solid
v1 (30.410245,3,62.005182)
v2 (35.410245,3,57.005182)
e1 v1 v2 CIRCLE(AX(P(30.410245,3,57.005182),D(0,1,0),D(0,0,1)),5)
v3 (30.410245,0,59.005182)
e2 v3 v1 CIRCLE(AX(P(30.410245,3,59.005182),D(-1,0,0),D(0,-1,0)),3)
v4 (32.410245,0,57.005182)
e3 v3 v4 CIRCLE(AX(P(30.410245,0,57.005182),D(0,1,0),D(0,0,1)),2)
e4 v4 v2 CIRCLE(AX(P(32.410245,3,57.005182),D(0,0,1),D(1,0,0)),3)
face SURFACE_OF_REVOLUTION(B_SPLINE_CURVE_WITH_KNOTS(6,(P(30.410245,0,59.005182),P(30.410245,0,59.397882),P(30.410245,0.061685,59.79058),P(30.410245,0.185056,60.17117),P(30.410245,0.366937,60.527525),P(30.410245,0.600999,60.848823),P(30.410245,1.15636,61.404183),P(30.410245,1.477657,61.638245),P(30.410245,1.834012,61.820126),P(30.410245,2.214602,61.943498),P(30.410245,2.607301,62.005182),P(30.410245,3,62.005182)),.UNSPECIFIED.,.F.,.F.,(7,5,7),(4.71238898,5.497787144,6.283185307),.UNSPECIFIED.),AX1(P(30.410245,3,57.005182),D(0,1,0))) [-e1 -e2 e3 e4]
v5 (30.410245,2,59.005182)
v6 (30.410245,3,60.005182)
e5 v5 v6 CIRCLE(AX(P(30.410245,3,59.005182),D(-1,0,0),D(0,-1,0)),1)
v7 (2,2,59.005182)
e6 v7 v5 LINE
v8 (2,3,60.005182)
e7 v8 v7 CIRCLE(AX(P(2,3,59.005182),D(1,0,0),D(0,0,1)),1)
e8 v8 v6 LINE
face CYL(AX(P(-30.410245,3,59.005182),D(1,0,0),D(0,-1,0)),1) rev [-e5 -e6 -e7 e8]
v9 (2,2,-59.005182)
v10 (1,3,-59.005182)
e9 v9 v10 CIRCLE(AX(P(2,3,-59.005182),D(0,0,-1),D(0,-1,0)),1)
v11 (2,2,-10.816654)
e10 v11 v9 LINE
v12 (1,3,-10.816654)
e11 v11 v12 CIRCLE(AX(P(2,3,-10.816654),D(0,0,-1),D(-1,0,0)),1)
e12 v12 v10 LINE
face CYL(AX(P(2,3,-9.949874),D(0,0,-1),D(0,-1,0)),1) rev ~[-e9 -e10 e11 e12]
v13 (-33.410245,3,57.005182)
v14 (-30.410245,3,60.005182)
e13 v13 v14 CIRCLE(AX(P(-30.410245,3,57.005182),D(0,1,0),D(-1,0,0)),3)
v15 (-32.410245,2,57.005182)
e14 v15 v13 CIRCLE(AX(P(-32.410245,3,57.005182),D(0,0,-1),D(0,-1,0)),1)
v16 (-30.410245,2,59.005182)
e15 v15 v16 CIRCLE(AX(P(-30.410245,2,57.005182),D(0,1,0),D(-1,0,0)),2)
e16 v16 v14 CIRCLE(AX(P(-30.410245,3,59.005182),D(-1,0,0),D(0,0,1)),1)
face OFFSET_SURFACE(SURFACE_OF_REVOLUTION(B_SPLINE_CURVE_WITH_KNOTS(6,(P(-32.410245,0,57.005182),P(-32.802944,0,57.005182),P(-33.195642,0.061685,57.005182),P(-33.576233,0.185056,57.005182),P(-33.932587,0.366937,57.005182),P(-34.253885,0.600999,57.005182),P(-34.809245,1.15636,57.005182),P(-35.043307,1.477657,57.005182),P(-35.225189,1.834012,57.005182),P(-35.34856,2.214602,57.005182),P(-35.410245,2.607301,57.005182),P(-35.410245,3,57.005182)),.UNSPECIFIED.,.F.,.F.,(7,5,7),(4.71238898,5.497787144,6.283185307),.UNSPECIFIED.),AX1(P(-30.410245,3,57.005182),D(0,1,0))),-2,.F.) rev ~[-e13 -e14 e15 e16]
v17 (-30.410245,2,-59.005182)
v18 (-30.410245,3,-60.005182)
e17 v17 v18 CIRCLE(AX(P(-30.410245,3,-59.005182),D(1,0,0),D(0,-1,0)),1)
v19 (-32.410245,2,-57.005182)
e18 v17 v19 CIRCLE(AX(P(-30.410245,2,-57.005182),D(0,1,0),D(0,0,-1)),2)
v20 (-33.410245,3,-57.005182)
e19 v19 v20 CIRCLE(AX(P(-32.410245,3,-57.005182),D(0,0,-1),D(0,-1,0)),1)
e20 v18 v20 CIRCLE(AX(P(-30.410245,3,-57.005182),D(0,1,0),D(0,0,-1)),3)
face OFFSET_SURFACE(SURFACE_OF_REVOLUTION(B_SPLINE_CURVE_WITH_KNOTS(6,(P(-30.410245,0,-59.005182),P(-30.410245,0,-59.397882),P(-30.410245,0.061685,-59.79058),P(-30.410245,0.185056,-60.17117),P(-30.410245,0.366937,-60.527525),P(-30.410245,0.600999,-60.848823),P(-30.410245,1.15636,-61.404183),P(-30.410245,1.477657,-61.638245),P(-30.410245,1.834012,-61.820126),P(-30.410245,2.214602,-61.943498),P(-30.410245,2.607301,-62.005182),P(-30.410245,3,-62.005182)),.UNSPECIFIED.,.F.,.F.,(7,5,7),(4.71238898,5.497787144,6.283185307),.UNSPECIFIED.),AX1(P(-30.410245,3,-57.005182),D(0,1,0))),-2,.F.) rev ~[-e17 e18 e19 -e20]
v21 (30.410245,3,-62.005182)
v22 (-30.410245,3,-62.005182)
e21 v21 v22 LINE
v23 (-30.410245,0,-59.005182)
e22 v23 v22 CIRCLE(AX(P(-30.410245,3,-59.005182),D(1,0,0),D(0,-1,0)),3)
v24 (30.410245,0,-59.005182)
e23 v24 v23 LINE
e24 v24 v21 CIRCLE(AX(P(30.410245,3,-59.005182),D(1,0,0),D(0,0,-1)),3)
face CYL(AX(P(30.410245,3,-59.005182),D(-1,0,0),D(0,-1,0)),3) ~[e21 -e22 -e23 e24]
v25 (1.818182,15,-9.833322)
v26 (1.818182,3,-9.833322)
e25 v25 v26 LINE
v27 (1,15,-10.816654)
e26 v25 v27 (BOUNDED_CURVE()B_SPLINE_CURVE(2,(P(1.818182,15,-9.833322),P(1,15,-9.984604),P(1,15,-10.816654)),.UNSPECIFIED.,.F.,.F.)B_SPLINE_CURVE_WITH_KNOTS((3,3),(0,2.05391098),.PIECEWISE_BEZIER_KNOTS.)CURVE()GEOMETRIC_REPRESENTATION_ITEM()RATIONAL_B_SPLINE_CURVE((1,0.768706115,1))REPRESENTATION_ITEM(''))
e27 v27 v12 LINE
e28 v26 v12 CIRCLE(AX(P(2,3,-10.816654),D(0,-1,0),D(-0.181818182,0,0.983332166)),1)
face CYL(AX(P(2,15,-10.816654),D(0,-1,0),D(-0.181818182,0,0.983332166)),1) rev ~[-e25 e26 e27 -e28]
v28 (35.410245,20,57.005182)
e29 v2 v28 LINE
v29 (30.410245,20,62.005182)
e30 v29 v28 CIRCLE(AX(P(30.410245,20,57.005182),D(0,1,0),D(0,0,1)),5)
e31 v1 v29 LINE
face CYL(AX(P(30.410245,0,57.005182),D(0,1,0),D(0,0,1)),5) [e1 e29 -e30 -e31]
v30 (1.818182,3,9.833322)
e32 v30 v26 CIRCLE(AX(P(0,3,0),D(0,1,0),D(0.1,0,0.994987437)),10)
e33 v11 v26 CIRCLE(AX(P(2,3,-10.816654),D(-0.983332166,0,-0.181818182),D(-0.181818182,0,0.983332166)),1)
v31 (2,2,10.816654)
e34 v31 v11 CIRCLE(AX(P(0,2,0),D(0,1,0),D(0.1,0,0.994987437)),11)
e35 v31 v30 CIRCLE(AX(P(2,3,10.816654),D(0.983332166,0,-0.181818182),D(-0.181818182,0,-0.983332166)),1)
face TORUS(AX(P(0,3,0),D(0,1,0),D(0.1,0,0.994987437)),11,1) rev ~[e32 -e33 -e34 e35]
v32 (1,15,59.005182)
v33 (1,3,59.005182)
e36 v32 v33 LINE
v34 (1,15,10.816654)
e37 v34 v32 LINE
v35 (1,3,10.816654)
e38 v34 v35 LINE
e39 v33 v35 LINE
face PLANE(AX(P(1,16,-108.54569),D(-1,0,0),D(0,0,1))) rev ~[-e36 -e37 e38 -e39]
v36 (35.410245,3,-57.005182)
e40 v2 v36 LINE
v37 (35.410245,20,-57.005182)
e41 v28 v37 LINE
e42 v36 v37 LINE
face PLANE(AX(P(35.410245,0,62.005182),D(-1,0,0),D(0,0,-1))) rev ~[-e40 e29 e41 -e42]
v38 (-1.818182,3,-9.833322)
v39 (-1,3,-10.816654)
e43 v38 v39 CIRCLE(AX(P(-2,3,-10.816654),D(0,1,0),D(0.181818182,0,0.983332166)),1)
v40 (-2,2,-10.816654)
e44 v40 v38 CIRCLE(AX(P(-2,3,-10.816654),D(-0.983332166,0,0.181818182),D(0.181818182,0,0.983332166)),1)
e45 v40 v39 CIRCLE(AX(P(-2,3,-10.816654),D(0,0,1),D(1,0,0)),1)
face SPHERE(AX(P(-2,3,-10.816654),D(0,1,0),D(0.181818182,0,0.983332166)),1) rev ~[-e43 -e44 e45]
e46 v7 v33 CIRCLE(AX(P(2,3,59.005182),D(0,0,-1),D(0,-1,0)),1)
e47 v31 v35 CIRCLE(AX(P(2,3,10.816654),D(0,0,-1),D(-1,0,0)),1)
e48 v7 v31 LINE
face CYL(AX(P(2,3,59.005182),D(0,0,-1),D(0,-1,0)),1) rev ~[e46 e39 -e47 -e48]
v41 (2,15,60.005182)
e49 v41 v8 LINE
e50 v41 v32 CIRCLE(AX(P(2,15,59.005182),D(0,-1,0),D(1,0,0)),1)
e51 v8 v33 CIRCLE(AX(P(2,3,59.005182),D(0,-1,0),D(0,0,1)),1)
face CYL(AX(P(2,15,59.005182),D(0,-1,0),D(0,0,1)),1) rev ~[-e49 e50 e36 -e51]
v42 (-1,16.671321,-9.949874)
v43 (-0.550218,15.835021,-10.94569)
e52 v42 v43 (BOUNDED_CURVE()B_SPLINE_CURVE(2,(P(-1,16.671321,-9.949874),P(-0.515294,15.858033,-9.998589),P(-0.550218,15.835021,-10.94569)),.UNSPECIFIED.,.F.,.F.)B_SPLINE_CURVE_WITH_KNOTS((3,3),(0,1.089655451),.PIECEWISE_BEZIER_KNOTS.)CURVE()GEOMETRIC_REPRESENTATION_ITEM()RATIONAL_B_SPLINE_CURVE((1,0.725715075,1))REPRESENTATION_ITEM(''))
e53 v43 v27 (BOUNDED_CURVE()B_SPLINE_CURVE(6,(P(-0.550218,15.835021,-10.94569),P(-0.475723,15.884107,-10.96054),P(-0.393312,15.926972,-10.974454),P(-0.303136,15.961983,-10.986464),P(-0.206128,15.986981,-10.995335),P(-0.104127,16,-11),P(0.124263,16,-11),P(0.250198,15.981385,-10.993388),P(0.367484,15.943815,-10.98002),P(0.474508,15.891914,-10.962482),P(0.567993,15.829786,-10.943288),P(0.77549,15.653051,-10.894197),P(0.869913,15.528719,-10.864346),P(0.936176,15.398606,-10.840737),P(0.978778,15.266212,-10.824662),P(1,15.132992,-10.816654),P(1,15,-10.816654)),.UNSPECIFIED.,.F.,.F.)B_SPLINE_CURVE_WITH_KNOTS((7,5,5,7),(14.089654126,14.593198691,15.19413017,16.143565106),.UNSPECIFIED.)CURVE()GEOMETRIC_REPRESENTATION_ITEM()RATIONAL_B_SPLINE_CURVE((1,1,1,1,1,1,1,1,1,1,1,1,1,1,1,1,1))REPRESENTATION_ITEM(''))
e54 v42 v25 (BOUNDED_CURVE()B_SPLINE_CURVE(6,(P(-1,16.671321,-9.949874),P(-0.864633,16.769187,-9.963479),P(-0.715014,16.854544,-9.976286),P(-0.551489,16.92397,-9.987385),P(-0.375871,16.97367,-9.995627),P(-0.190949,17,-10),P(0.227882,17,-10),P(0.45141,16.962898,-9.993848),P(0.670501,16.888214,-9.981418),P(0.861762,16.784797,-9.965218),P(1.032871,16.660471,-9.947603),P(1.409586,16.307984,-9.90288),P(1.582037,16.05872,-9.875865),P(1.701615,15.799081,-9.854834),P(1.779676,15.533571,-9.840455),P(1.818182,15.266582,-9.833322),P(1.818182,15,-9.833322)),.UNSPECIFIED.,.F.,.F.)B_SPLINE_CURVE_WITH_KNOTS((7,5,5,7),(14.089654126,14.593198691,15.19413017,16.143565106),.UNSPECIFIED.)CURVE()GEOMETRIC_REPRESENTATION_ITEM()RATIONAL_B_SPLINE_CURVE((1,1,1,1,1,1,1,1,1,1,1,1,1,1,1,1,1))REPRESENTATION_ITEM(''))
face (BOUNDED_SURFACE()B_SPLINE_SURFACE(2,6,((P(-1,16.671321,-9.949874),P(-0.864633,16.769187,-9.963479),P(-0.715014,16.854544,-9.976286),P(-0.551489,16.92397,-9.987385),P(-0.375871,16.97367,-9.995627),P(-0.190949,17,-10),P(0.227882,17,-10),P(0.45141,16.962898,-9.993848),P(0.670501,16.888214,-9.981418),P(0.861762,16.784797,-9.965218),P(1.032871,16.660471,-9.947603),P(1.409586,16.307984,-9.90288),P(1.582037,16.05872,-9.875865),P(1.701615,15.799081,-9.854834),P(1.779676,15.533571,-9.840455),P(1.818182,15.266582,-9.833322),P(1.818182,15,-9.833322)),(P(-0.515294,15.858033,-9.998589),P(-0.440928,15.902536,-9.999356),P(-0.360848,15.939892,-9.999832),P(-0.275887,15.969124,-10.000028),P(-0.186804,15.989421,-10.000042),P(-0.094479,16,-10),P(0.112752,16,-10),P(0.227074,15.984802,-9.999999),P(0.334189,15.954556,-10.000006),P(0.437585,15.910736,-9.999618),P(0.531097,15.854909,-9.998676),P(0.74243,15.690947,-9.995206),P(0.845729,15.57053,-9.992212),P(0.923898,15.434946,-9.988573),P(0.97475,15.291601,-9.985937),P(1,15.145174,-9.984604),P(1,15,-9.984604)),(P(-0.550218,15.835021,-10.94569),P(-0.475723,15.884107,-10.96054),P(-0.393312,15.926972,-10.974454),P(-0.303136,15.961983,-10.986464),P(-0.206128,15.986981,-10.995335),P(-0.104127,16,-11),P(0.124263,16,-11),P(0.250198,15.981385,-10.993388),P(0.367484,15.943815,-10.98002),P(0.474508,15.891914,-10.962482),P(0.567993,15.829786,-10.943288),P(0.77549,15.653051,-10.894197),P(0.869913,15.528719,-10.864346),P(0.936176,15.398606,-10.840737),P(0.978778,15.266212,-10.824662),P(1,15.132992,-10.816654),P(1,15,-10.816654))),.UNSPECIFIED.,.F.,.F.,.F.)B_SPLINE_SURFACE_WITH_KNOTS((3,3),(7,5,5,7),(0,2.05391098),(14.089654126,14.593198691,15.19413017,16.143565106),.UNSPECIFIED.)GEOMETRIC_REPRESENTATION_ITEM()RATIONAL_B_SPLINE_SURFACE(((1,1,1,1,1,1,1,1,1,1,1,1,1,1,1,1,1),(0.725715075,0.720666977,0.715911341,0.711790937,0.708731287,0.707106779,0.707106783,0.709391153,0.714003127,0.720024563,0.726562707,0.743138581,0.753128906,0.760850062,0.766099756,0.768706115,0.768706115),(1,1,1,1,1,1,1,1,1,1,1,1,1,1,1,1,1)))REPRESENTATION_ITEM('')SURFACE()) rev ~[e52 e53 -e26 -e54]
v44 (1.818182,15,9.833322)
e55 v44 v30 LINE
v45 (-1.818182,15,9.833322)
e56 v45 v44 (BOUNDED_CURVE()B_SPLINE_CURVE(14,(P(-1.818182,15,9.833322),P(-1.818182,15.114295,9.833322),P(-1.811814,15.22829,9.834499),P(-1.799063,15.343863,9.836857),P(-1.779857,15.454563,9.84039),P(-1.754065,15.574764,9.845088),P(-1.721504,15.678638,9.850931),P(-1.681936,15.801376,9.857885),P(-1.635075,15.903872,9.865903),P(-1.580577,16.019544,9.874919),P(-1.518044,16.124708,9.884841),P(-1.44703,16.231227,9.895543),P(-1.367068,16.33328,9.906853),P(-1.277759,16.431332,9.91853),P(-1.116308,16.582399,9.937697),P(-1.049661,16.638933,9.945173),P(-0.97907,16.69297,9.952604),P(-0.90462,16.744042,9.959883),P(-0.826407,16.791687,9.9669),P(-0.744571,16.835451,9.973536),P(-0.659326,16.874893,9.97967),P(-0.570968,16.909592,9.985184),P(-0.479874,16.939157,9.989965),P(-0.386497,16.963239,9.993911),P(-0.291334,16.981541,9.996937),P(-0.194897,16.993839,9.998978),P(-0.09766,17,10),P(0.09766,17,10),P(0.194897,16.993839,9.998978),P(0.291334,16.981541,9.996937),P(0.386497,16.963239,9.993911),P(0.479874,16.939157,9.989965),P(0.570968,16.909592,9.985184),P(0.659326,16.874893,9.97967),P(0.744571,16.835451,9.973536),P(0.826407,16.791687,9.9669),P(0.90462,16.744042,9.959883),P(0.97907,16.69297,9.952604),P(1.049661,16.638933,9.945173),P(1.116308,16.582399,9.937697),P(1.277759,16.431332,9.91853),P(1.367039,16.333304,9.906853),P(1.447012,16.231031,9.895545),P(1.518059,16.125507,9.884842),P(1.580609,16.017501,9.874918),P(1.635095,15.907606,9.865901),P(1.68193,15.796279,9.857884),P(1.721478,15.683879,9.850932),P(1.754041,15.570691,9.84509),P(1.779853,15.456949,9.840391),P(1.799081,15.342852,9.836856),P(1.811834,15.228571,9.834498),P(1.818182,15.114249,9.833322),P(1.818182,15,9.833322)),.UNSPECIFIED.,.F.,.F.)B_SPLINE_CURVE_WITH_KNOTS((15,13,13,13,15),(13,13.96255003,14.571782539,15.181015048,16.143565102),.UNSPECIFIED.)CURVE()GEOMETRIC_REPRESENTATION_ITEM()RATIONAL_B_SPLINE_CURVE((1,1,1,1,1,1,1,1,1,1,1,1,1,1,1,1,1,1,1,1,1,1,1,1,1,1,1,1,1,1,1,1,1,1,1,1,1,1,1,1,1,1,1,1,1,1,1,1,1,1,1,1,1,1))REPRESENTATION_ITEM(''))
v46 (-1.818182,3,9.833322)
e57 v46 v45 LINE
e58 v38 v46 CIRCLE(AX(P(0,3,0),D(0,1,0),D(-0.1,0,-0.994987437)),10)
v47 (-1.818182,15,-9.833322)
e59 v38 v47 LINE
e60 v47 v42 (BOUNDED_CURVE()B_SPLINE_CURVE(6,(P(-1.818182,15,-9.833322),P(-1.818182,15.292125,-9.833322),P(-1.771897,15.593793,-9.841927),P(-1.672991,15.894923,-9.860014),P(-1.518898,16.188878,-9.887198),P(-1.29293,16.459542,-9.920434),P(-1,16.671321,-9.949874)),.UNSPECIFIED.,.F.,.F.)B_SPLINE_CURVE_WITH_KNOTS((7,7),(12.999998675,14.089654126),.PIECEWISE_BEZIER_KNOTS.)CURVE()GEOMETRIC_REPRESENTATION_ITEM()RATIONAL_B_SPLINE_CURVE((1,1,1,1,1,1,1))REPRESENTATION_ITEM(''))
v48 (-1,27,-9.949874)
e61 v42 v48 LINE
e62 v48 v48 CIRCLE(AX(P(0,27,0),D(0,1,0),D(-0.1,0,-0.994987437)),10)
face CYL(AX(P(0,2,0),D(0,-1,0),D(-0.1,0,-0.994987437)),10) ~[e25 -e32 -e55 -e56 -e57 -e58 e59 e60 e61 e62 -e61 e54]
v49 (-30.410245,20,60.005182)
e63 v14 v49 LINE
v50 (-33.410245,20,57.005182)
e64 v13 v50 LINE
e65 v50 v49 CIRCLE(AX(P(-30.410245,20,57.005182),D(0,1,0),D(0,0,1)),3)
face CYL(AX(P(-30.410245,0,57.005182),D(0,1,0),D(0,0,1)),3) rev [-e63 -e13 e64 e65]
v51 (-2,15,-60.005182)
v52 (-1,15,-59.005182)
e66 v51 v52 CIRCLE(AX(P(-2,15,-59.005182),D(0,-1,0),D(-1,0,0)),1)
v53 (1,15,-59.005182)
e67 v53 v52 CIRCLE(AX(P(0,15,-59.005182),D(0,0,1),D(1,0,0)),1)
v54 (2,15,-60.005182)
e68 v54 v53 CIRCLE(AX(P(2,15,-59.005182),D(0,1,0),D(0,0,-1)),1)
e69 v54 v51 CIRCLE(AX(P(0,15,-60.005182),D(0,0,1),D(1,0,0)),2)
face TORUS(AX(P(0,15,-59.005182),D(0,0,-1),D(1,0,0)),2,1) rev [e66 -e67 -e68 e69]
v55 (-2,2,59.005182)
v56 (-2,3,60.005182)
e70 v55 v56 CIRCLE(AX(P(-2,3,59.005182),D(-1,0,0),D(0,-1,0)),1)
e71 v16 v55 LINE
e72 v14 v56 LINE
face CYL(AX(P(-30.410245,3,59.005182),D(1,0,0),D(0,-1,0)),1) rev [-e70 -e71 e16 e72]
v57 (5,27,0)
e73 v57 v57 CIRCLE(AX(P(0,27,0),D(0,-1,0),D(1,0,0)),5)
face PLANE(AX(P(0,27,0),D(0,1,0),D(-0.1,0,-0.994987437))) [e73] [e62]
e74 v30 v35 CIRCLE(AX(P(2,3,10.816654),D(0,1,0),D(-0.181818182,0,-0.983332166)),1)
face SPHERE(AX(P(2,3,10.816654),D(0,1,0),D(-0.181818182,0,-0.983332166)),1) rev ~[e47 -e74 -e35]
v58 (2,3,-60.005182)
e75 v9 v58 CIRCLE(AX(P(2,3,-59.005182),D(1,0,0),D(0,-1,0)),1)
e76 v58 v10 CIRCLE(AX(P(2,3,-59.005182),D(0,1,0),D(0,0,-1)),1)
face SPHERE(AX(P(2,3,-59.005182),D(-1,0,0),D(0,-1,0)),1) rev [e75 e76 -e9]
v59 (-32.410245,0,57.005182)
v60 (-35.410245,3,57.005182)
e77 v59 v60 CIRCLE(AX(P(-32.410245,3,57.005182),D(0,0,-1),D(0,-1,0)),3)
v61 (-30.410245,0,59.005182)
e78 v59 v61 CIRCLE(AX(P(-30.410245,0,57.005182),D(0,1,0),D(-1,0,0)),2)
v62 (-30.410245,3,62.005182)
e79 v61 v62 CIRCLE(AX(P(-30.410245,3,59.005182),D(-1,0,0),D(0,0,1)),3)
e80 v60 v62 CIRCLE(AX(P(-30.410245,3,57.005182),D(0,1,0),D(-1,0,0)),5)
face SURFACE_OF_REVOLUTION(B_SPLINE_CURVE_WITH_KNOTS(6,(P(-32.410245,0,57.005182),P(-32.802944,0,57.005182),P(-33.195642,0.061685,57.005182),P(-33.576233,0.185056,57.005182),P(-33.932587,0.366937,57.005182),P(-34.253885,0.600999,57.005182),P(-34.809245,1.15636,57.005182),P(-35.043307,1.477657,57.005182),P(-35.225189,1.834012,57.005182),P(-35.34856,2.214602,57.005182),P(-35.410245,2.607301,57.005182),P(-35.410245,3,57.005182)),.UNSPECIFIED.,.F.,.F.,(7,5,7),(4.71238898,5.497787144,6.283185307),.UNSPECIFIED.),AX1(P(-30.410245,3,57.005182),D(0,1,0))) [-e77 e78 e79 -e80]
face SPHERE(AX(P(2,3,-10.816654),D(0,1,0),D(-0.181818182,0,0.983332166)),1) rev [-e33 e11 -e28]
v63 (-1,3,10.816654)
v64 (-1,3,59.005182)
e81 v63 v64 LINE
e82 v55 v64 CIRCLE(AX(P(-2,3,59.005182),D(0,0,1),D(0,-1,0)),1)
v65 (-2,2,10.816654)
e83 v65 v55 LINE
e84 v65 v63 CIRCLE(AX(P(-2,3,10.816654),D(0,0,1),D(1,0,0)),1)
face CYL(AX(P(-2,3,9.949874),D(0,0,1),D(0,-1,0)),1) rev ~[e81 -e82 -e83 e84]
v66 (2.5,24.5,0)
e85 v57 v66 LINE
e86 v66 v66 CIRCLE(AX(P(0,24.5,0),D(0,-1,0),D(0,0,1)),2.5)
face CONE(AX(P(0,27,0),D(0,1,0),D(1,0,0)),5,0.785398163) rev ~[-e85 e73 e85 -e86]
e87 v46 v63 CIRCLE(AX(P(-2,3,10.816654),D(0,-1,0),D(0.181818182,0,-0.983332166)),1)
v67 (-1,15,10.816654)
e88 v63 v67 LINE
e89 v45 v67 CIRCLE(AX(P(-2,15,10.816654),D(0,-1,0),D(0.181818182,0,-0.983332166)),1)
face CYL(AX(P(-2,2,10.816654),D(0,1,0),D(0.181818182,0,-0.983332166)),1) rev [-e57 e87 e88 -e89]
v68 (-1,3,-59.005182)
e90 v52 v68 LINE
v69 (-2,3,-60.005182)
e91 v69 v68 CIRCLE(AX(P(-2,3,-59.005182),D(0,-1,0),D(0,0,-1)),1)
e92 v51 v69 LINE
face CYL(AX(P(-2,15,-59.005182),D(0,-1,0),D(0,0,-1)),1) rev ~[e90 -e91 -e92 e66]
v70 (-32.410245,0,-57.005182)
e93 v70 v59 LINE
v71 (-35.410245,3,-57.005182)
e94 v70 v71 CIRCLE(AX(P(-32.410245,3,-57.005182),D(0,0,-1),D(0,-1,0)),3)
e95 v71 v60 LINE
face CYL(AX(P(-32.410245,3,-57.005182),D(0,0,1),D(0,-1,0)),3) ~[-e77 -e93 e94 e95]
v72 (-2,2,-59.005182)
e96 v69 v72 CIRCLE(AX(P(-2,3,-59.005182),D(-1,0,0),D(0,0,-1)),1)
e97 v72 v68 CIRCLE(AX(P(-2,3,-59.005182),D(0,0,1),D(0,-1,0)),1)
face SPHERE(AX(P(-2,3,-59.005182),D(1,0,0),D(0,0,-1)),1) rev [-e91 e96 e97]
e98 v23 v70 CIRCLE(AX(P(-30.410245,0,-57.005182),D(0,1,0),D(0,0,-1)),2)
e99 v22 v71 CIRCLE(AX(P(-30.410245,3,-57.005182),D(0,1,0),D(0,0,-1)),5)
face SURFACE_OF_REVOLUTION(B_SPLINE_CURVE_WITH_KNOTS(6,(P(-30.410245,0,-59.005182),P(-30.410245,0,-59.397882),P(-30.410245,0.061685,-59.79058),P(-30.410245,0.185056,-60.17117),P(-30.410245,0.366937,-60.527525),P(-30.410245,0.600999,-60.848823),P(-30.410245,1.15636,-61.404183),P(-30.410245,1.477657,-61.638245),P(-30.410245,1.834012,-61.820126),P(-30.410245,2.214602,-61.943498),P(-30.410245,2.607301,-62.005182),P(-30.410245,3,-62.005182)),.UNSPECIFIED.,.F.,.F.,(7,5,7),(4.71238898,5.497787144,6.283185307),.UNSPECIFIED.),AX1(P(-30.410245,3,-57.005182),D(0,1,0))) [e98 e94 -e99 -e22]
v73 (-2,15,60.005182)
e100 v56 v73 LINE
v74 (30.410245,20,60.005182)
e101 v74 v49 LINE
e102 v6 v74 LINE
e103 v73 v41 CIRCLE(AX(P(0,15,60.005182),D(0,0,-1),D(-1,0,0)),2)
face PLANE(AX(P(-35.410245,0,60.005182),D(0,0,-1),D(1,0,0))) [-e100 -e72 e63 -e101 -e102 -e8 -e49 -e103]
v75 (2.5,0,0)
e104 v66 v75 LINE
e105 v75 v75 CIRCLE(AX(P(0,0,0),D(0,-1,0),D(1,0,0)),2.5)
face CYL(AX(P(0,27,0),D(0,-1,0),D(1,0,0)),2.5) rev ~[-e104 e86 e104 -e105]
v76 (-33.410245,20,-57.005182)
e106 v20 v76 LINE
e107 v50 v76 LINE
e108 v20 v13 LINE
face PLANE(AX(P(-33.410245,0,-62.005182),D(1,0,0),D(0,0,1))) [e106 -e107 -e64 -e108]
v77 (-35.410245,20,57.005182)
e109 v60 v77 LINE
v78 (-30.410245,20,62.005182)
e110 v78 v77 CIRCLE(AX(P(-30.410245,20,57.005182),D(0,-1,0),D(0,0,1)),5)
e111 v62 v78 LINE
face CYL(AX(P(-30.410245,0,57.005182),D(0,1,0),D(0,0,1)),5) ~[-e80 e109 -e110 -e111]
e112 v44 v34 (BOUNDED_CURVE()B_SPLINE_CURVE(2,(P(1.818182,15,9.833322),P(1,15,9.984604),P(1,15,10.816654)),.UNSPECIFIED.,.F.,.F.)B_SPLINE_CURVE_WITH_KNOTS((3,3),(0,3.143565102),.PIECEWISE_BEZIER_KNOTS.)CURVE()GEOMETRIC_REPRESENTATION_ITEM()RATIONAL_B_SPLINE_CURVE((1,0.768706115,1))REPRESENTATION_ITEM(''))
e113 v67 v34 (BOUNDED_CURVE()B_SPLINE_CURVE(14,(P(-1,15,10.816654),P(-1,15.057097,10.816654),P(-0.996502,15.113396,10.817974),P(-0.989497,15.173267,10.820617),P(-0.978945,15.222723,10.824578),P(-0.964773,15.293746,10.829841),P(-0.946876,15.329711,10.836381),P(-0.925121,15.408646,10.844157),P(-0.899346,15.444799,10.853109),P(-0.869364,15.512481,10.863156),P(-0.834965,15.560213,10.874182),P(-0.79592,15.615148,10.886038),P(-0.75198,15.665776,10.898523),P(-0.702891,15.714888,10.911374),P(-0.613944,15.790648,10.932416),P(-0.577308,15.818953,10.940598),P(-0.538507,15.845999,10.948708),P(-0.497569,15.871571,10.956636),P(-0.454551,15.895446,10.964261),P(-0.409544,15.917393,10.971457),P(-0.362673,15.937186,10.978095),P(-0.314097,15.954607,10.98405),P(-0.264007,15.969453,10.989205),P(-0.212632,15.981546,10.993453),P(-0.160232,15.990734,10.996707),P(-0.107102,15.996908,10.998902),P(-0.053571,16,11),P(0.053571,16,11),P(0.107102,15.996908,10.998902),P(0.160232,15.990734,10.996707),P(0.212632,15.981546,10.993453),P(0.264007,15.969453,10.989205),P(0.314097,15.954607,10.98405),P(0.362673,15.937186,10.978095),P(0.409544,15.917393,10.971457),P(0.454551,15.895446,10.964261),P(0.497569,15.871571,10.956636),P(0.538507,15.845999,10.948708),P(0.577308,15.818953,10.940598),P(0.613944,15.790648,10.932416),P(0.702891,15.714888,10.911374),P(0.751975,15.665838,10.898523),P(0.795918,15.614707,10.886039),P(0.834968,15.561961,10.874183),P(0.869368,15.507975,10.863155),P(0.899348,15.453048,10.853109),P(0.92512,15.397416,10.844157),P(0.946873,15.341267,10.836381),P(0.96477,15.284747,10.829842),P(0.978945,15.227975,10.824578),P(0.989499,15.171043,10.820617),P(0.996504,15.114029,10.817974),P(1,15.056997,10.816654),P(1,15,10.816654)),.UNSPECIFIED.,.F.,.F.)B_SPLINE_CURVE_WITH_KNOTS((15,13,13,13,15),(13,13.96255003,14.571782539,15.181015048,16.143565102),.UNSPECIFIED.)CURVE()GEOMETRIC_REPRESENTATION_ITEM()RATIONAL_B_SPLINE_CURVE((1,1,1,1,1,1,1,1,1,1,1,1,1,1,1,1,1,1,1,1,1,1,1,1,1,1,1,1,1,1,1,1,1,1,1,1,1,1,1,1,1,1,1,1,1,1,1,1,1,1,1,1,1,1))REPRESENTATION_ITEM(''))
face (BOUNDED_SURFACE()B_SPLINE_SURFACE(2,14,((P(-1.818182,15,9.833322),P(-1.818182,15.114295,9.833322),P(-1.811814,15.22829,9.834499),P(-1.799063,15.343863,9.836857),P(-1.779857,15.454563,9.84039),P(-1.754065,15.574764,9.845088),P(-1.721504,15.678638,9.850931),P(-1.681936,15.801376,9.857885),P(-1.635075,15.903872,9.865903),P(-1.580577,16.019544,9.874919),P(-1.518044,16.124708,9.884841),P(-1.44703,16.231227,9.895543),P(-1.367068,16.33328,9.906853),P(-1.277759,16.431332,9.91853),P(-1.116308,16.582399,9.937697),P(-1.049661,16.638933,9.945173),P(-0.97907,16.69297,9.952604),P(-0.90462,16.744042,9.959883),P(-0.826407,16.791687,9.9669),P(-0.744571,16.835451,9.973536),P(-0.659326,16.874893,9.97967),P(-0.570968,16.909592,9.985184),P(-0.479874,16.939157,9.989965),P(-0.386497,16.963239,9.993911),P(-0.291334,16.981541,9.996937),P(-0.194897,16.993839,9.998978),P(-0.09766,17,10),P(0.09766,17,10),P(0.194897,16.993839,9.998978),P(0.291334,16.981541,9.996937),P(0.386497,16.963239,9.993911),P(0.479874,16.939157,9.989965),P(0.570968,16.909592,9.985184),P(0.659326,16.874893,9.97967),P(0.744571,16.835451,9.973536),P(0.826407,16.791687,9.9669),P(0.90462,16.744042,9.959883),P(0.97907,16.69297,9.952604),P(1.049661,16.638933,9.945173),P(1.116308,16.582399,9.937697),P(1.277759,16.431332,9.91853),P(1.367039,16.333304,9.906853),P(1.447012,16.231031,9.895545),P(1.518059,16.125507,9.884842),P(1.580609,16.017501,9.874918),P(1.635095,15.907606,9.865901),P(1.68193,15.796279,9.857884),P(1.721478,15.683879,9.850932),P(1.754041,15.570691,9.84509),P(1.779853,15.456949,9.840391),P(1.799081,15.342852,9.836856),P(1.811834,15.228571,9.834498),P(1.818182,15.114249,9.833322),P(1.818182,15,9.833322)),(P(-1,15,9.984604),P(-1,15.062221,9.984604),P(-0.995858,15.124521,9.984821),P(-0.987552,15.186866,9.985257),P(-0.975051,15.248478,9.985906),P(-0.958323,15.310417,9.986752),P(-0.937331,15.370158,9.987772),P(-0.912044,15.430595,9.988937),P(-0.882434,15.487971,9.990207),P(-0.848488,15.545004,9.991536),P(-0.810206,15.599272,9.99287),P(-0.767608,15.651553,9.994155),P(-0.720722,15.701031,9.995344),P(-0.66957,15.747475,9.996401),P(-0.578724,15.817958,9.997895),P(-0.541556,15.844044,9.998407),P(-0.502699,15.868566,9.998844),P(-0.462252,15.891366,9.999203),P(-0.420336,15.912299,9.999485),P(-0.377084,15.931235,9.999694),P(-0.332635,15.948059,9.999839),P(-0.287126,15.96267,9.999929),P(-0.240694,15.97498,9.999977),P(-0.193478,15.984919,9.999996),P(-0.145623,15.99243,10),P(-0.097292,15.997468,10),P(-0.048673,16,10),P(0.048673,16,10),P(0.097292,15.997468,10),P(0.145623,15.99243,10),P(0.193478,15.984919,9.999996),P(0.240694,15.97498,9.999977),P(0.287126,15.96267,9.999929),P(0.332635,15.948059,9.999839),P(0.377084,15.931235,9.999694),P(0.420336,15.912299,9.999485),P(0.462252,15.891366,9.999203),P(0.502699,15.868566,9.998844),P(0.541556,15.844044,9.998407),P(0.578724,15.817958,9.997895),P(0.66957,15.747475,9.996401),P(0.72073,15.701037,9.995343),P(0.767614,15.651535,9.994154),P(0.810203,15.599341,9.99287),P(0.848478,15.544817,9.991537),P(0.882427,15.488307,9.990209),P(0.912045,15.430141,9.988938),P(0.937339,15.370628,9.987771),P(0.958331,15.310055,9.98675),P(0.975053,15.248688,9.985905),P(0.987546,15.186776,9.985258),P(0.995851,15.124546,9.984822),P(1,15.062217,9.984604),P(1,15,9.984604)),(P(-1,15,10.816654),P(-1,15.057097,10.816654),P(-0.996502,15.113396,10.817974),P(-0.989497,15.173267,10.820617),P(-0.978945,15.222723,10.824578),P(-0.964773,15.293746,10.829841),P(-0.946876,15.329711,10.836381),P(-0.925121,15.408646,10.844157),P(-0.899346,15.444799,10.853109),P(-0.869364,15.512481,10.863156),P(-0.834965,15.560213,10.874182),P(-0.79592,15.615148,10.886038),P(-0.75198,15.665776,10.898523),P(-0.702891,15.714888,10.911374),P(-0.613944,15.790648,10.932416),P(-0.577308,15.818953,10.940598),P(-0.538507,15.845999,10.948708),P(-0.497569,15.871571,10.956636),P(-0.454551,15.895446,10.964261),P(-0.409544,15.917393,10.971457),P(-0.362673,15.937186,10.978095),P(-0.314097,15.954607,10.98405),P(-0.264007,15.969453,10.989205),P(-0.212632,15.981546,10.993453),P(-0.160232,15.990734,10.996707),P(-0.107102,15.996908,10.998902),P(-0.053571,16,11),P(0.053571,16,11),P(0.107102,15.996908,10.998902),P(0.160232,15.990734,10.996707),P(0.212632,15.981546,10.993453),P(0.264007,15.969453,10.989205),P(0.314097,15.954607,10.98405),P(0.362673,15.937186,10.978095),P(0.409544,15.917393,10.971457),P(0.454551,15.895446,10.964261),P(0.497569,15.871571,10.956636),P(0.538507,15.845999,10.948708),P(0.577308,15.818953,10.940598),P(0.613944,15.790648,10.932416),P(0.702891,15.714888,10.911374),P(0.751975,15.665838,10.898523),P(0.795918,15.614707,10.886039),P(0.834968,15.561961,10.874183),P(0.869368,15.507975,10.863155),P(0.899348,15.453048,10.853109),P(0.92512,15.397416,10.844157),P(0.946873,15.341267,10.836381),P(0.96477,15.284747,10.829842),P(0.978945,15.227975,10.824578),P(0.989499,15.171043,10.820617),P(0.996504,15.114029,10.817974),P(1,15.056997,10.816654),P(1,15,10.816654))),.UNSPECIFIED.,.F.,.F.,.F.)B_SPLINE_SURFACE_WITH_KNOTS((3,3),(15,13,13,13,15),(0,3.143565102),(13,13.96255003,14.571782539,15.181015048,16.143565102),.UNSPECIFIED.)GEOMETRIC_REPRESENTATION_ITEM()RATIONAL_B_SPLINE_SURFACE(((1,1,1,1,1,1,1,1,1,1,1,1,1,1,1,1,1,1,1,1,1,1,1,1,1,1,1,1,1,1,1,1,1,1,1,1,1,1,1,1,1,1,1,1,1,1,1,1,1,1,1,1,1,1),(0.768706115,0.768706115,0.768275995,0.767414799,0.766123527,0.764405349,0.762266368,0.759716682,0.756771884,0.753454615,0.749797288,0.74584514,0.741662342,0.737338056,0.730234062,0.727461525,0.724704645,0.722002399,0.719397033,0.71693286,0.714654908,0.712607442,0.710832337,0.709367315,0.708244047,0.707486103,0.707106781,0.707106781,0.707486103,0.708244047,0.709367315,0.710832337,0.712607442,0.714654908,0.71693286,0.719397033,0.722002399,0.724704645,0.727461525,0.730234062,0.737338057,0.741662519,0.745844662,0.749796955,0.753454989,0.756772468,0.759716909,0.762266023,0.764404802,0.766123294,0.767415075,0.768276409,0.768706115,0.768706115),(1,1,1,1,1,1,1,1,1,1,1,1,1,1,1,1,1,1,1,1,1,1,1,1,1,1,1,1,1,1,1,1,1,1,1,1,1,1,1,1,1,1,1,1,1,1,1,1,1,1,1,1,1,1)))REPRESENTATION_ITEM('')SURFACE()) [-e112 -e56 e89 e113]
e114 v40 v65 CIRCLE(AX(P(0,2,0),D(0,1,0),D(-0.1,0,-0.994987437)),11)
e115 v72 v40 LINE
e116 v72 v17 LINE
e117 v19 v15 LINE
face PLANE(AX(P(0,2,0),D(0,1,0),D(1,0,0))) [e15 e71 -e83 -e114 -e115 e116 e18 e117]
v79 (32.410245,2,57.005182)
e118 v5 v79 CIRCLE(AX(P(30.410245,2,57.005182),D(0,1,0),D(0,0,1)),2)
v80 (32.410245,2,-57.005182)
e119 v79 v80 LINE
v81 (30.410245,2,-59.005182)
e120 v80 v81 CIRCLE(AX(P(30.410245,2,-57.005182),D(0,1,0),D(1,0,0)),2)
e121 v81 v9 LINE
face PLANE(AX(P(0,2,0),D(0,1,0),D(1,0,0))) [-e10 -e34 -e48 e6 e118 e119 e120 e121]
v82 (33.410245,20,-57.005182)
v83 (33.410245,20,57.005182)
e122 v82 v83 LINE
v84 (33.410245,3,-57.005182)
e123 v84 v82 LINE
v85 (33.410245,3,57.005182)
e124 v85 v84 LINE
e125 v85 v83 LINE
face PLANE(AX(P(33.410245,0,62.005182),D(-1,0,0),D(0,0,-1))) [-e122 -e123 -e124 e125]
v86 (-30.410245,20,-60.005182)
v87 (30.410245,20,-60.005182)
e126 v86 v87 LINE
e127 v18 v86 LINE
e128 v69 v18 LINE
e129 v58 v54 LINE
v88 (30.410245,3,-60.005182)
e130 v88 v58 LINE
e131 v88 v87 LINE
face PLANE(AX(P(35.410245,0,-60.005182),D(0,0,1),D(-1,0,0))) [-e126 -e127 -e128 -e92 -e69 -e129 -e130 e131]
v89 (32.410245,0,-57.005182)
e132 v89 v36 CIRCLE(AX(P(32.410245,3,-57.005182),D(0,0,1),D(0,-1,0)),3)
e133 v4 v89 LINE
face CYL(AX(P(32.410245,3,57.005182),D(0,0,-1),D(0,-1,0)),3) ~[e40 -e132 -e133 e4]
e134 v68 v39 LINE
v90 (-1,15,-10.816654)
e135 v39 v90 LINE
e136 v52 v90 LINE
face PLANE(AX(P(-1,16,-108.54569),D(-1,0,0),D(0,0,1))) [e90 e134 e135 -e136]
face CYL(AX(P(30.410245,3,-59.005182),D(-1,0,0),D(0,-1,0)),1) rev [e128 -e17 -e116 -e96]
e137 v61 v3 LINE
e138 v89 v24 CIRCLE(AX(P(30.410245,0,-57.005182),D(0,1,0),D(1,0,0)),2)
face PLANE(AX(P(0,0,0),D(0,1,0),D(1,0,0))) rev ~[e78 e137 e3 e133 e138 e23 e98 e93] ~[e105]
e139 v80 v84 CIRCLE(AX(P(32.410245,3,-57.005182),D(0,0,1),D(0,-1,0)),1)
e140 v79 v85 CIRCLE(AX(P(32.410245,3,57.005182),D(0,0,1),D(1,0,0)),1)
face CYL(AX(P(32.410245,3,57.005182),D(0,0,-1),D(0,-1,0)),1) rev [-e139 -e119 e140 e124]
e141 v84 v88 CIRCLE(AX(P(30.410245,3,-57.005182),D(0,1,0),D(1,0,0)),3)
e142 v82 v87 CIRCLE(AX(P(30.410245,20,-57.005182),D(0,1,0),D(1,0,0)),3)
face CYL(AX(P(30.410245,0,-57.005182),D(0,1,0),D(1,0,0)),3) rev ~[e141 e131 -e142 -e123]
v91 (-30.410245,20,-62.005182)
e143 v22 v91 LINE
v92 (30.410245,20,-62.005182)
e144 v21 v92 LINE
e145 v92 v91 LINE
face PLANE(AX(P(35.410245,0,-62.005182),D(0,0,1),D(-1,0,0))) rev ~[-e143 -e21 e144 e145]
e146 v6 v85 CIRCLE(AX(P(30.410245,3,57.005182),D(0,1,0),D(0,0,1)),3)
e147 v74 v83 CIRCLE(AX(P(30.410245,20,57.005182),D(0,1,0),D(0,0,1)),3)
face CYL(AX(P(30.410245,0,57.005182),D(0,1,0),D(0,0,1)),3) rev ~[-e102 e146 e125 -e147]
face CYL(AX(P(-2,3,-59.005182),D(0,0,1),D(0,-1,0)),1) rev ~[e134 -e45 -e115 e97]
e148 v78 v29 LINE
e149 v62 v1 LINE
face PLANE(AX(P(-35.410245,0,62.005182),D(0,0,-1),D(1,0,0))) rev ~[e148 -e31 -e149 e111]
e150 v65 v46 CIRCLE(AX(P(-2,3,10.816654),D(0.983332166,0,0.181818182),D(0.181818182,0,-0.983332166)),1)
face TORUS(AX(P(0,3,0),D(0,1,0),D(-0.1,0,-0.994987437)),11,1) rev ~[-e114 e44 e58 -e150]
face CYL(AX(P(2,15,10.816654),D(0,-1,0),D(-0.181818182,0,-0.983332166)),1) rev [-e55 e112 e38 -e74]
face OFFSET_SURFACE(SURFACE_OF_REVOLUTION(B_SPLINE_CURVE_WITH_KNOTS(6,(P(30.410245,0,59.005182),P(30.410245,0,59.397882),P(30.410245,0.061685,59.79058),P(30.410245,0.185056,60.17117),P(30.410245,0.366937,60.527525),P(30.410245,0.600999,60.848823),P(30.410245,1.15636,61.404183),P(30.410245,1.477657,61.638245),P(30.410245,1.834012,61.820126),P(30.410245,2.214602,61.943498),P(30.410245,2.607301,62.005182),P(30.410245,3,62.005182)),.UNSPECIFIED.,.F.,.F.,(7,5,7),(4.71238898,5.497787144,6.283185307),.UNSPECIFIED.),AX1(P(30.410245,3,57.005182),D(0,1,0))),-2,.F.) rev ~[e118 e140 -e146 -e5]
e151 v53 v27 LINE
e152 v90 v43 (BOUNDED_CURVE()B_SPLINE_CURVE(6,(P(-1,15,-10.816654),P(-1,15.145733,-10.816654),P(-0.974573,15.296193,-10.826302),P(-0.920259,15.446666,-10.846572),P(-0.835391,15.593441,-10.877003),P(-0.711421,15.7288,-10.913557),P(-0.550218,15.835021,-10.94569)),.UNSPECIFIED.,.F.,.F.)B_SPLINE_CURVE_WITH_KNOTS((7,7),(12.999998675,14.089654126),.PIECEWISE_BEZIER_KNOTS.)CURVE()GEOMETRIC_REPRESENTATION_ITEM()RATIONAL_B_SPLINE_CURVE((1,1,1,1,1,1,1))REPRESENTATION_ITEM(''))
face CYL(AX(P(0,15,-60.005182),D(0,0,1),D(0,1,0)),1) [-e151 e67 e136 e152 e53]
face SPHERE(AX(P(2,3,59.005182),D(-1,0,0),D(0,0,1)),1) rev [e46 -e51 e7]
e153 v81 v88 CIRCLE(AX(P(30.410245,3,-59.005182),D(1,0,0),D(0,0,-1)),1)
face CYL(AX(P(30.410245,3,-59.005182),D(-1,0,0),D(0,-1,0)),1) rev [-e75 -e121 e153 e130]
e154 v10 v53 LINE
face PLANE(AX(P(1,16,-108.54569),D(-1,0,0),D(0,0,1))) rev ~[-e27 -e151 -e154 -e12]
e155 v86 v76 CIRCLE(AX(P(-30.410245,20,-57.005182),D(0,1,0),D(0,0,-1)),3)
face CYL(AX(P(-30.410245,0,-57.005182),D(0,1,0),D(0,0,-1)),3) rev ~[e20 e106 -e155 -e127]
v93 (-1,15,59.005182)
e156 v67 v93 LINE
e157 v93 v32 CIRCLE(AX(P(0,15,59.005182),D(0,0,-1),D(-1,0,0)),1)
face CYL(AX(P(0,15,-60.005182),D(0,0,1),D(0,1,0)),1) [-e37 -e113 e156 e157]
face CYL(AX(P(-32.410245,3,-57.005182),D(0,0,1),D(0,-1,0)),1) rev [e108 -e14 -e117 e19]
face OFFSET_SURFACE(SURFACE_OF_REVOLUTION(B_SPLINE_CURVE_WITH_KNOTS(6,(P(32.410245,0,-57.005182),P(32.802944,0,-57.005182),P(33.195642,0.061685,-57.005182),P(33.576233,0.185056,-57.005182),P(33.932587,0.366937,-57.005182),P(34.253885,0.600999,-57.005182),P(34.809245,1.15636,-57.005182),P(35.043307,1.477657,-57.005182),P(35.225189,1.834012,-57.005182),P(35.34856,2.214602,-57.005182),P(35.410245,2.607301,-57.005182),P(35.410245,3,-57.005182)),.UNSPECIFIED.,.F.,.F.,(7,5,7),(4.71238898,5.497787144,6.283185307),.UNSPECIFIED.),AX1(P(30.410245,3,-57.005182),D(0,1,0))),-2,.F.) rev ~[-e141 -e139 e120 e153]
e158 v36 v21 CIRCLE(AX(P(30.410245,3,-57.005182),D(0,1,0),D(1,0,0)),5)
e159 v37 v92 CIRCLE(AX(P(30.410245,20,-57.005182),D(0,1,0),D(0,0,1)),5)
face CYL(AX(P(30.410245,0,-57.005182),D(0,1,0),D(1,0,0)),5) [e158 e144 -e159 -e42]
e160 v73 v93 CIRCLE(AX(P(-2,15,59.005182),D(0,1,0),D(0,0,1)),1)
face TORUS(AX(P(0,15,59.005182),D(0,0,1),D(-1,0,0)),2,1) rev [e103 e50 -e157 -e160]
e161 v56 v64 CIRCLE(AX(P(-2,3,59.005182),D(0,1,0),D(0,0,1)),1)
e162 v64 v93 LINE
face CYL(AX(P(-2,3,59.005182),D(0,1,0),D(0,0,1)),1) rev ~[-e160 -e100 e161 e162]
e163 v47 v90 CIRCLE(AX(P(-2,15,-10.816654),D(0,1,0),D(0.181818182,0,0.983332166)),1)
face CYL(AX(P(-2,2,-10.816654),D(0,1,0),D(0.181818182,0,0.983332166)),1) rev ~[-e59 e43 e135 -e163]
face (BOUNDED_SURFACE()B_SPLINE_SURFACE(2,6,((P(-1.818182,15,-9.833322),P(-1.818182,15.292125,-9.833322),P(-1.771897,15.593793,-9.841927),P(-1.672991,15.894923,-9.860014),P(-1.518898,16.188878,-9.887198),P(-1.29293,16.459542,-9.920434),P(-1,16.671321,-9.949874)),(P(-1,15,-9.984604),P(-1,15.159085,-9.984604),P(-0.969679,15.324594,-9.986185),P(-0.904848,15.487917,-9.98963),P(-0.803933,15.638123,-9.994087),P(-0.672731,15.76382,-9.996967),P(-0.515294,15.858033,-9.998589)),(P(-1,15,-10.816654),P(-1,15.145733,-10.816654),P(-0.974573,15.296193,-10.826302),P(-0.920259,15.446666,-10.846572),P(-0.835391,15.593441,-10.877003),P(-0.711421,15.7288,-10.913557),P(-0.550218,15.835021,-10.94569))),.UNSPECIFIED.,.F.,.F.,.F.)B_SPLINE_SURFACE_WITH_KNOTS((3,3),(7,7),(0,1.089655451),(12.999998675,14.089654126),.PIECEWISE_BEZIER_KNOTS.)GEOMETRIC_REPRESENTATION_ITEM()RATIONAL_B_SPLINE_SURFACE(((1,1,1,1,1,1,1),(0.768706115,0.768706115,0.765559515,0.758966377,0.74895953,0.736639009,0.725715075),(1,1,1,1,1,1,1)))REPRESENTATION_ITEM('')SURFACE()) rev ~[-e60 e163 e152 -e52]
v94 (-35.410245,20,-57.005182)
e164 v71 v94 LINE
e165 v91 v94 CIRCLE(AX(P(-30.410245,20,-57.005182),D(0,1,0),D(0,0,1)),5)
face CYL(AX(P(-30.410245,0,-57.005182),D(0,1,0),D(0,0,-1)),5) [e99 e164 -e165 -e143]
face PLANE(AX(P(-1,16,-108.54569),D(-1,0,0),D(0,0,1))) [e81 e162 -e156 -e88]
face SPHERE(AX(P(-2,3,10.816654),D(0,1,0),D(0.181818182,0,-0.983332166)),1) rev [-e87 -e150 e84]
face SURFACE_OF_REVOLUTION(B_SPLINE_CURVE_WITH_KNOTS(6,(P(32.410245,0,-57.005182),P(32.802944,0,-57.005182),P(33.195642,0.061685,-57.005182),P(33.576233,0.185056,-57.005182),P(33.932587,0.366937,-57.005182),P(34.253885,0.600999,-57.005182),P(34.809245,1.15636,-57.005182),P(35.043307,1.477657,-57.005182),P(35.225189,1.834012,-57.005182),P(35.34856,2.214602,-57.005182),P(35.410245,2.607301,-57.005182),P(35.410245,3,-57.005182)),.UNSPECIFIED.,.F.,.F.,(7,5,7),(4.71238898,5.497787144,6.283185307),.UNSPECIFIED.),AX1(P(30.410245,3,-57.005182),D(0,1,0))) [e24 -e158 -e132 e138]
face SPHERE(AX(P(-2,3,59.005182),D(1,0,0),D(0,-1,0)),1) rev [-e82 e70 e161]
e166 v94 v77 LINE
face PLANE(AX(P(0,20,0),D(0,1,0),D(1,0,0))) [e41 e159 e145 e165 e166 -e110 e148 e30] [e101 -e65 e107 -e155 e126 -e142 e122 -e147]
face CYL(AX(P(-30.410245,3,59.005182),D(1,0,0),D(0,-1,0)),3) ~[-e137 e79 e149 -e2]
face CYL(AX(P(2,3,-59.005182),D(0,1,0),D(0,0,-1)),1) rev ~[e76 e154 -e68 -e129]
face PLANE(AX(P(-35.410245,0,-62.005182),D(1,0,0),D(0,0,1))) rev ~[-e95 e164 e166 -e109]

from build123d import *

# Parameters (mm, degrees)
BASE_EXTRUDE_DEPTH     = 20
FILLET1_R              = 5
FILLET2_R              = 3
SHELL1_T               = -2
RIB1_REACH             = 75.175
SKETCH6_WALLS_W        = 2
SKETCH6_WALLS_H        = 216.25372280356578
FILLET5_RADIUS         = 1
FILLET5_LENGTH         = 120.01036485
SKETCH3_R              = 10
CYLBOSS_DEPTH          = 25
FILLET4_R              = 1
COUNTERSNK_D           = 5
COUNTERSNK_CSINK_D     = 10
COUNTERSNK_CSINK_ANGLE = 90


with BuildPart() as part:
    # Sketch1 → Base-Extrude (new body)
    with BuildSketch(Plane(origin=(0, 0, 0), x_dir=(1, 0, 0), z_dir=(0, 1, 0))):
        Polygon((-35.41024463353893, -62.00518242476961), (35.410244633538916, -62.00518242476961), (35.41024463353893, 62.00518242476959), (-35.41024463353893, 62.00518242476961), align=None)
    extrude(amount=BASE_EXTRUDE_DEPTH)

    # Fillet1
    fillet1_edges = [part.edges().sort_by_distance(p)[0] for p in [
        (-35.41024463353893, 10, 62.00518242476961),
        (35.410244633538916, 10, 62.00518242476961),
        (35.41024463353893, 10, -62.00518242476959),
        (-35.41024463353893, 10, -62.00518242476961),
    ]]
    fillet(fillet1_edges, radius=FILLET1_R)

    # Fillet2
    fillet2_edges = [part.edges().sort_by_distance(p)[0] for p in [
        (-35.41024463353893, 0, 0),
        (0, 0, -62.0051824247696),
        (35.41024463353892, 0, 7.11e-15),
        (-7.11e-15, 0, 62.00518242476961),
        (33.94577853947167, 0, -60.54071633070233),
        (33.945778539471654, 0, 60.540716330702345),
        (-33.94577853947167, 0, 60.540716330702345),
        (-33.94577853947167, 0, -60.540716330702345),
    ]]
    fillet(fillet2_edges, radius=FILLET2_R)

    # Shell1
    shell1_openings = [part.faces().sort_by_distance(p)[0] for p in [
        (0, 20, 0),
    ]]
    offset(amount=SHELL1_T, openings=shell1_openings, kind=Kind.INTERSECTION)

    # Sketch6 walls → Rib1 (add, up to next)
    with BuildSketch(Plane(origin=(0, 16, 0), x_dir=(-1, 0, 0), z_dir=(0, 1, 0)), mode=Mode.PRIVATE) as rib1_sk1:
        with Locations((0, -0.4188286230260019)):
            Rectangle(SKETCH6_WALLS_W, SKETCH6_WALLS_H)
    rib1_tool1 = extrude(rib1_sk1.sketch, amount=-RIB1_REACH, mode=Mode.PRIVATE) - part.part
    add(rib1_tool1.solids().sort_by_distance((0, 16, -0.418828623))[0])

    # Fillet5: full round fillet: the end face becomes a half cylinder, R = half its width
    fillet5_face = Plane((0, 16, 0), x_dir=(0, 0, 1), z_dir=(0, 1, 0))  # on the end face: x along it, z out of the body
    fillet5_slab = fillet5_face.offset(-FILLET5_RADIUS / 2) * Box(FILLET5_LENGTH, 2 * FILLET5_RADIUS, FILLET5_RADIUS, mode=Mode.PRIVATE)  # the body's end, R deep
    fillet5_round = Plane((0, 15, 0), x_dir=(0, 1, 0), z_dir=(0, 0, 1)) * Cylinder(FILLET5_RADIUS, FILLET5_LENGTH, mode=Mode.PRIVATE)  # its axis R under the face
    add(fillet5_slab - fillet5_round, mode=Mode.SUBTRACT)

    # Sketch3 → CylBoss (add)
    with BuildSketch(Plane(origin=(0, 2, 0), x_dir=(-1, 0, 0), z_dir=(0, 1, 0))):
        with Locations(Location((0, 0, 0), (0, 0, 275.739170477))):
            Circle(SKETCH3_R)
    extrude(amount=CYLBOSS_DEPTH)

    # Fillet4
    fillet4_edges = [part.edges().sort_by_distance(p)[0] for p in [
        (1, 9, 60.00518242476961),
        (1, 9, -60.00518242476961),
        (-1, 9, 60.005182424769615),
        (-1, 9, -60.0051824247696),
        (-6e-17, 16, -60.005182425),
        (6e-17, 16, 60.005182425),
        (1, 2, -34.47752839791793),
        (1, 8.5, 9.9498743710662),
        (1, 8.5, -9.9498743710662),
        (-1, 2, -34.47752839792024),
        (-0.9999999999536726, 8.5, -9.949874371070855),
        (4.81118827973e-06, 15.999999999988425, -9.999999999998844),
        (-1, 8.5, 9.9498743710662),
        (-1, 8.5, 9.9498743710662),
        (-10, 2, -2.318834e-11),
        (10, 2, -1.8274e-13),
        (1, 2.292893218813452, 59.712289205956154),
        (-1, 2.292893218813452, 59.712289205956154),
        (1.0000000000000002, 2.292893218813452, -59.712289205956154),
        (-0.9999999999999999, 2.292893218813452, -59.712289205956154),
        (1, 2, 34.4775283979179),
        (-1, 2, 34.47752839791793),
    ]]
    fillet(fillet4_edges, radius=FILLET4_R)

    # CounterSnk (through all)
    with Locations(Plane(origin=(0, 27.000000000000004, 0), x_dir=(-1, 0, 0), z_dir=(0, 1, 0))):
        with Locations((0, 0)):
            CounterSinkHole(COUNTERSNK_D / 2, COUNTERSNK_CSINK_D / 2, counter_sink_angle=COUNTERSNK_CSINK_ANGLE)


solid = part.part
